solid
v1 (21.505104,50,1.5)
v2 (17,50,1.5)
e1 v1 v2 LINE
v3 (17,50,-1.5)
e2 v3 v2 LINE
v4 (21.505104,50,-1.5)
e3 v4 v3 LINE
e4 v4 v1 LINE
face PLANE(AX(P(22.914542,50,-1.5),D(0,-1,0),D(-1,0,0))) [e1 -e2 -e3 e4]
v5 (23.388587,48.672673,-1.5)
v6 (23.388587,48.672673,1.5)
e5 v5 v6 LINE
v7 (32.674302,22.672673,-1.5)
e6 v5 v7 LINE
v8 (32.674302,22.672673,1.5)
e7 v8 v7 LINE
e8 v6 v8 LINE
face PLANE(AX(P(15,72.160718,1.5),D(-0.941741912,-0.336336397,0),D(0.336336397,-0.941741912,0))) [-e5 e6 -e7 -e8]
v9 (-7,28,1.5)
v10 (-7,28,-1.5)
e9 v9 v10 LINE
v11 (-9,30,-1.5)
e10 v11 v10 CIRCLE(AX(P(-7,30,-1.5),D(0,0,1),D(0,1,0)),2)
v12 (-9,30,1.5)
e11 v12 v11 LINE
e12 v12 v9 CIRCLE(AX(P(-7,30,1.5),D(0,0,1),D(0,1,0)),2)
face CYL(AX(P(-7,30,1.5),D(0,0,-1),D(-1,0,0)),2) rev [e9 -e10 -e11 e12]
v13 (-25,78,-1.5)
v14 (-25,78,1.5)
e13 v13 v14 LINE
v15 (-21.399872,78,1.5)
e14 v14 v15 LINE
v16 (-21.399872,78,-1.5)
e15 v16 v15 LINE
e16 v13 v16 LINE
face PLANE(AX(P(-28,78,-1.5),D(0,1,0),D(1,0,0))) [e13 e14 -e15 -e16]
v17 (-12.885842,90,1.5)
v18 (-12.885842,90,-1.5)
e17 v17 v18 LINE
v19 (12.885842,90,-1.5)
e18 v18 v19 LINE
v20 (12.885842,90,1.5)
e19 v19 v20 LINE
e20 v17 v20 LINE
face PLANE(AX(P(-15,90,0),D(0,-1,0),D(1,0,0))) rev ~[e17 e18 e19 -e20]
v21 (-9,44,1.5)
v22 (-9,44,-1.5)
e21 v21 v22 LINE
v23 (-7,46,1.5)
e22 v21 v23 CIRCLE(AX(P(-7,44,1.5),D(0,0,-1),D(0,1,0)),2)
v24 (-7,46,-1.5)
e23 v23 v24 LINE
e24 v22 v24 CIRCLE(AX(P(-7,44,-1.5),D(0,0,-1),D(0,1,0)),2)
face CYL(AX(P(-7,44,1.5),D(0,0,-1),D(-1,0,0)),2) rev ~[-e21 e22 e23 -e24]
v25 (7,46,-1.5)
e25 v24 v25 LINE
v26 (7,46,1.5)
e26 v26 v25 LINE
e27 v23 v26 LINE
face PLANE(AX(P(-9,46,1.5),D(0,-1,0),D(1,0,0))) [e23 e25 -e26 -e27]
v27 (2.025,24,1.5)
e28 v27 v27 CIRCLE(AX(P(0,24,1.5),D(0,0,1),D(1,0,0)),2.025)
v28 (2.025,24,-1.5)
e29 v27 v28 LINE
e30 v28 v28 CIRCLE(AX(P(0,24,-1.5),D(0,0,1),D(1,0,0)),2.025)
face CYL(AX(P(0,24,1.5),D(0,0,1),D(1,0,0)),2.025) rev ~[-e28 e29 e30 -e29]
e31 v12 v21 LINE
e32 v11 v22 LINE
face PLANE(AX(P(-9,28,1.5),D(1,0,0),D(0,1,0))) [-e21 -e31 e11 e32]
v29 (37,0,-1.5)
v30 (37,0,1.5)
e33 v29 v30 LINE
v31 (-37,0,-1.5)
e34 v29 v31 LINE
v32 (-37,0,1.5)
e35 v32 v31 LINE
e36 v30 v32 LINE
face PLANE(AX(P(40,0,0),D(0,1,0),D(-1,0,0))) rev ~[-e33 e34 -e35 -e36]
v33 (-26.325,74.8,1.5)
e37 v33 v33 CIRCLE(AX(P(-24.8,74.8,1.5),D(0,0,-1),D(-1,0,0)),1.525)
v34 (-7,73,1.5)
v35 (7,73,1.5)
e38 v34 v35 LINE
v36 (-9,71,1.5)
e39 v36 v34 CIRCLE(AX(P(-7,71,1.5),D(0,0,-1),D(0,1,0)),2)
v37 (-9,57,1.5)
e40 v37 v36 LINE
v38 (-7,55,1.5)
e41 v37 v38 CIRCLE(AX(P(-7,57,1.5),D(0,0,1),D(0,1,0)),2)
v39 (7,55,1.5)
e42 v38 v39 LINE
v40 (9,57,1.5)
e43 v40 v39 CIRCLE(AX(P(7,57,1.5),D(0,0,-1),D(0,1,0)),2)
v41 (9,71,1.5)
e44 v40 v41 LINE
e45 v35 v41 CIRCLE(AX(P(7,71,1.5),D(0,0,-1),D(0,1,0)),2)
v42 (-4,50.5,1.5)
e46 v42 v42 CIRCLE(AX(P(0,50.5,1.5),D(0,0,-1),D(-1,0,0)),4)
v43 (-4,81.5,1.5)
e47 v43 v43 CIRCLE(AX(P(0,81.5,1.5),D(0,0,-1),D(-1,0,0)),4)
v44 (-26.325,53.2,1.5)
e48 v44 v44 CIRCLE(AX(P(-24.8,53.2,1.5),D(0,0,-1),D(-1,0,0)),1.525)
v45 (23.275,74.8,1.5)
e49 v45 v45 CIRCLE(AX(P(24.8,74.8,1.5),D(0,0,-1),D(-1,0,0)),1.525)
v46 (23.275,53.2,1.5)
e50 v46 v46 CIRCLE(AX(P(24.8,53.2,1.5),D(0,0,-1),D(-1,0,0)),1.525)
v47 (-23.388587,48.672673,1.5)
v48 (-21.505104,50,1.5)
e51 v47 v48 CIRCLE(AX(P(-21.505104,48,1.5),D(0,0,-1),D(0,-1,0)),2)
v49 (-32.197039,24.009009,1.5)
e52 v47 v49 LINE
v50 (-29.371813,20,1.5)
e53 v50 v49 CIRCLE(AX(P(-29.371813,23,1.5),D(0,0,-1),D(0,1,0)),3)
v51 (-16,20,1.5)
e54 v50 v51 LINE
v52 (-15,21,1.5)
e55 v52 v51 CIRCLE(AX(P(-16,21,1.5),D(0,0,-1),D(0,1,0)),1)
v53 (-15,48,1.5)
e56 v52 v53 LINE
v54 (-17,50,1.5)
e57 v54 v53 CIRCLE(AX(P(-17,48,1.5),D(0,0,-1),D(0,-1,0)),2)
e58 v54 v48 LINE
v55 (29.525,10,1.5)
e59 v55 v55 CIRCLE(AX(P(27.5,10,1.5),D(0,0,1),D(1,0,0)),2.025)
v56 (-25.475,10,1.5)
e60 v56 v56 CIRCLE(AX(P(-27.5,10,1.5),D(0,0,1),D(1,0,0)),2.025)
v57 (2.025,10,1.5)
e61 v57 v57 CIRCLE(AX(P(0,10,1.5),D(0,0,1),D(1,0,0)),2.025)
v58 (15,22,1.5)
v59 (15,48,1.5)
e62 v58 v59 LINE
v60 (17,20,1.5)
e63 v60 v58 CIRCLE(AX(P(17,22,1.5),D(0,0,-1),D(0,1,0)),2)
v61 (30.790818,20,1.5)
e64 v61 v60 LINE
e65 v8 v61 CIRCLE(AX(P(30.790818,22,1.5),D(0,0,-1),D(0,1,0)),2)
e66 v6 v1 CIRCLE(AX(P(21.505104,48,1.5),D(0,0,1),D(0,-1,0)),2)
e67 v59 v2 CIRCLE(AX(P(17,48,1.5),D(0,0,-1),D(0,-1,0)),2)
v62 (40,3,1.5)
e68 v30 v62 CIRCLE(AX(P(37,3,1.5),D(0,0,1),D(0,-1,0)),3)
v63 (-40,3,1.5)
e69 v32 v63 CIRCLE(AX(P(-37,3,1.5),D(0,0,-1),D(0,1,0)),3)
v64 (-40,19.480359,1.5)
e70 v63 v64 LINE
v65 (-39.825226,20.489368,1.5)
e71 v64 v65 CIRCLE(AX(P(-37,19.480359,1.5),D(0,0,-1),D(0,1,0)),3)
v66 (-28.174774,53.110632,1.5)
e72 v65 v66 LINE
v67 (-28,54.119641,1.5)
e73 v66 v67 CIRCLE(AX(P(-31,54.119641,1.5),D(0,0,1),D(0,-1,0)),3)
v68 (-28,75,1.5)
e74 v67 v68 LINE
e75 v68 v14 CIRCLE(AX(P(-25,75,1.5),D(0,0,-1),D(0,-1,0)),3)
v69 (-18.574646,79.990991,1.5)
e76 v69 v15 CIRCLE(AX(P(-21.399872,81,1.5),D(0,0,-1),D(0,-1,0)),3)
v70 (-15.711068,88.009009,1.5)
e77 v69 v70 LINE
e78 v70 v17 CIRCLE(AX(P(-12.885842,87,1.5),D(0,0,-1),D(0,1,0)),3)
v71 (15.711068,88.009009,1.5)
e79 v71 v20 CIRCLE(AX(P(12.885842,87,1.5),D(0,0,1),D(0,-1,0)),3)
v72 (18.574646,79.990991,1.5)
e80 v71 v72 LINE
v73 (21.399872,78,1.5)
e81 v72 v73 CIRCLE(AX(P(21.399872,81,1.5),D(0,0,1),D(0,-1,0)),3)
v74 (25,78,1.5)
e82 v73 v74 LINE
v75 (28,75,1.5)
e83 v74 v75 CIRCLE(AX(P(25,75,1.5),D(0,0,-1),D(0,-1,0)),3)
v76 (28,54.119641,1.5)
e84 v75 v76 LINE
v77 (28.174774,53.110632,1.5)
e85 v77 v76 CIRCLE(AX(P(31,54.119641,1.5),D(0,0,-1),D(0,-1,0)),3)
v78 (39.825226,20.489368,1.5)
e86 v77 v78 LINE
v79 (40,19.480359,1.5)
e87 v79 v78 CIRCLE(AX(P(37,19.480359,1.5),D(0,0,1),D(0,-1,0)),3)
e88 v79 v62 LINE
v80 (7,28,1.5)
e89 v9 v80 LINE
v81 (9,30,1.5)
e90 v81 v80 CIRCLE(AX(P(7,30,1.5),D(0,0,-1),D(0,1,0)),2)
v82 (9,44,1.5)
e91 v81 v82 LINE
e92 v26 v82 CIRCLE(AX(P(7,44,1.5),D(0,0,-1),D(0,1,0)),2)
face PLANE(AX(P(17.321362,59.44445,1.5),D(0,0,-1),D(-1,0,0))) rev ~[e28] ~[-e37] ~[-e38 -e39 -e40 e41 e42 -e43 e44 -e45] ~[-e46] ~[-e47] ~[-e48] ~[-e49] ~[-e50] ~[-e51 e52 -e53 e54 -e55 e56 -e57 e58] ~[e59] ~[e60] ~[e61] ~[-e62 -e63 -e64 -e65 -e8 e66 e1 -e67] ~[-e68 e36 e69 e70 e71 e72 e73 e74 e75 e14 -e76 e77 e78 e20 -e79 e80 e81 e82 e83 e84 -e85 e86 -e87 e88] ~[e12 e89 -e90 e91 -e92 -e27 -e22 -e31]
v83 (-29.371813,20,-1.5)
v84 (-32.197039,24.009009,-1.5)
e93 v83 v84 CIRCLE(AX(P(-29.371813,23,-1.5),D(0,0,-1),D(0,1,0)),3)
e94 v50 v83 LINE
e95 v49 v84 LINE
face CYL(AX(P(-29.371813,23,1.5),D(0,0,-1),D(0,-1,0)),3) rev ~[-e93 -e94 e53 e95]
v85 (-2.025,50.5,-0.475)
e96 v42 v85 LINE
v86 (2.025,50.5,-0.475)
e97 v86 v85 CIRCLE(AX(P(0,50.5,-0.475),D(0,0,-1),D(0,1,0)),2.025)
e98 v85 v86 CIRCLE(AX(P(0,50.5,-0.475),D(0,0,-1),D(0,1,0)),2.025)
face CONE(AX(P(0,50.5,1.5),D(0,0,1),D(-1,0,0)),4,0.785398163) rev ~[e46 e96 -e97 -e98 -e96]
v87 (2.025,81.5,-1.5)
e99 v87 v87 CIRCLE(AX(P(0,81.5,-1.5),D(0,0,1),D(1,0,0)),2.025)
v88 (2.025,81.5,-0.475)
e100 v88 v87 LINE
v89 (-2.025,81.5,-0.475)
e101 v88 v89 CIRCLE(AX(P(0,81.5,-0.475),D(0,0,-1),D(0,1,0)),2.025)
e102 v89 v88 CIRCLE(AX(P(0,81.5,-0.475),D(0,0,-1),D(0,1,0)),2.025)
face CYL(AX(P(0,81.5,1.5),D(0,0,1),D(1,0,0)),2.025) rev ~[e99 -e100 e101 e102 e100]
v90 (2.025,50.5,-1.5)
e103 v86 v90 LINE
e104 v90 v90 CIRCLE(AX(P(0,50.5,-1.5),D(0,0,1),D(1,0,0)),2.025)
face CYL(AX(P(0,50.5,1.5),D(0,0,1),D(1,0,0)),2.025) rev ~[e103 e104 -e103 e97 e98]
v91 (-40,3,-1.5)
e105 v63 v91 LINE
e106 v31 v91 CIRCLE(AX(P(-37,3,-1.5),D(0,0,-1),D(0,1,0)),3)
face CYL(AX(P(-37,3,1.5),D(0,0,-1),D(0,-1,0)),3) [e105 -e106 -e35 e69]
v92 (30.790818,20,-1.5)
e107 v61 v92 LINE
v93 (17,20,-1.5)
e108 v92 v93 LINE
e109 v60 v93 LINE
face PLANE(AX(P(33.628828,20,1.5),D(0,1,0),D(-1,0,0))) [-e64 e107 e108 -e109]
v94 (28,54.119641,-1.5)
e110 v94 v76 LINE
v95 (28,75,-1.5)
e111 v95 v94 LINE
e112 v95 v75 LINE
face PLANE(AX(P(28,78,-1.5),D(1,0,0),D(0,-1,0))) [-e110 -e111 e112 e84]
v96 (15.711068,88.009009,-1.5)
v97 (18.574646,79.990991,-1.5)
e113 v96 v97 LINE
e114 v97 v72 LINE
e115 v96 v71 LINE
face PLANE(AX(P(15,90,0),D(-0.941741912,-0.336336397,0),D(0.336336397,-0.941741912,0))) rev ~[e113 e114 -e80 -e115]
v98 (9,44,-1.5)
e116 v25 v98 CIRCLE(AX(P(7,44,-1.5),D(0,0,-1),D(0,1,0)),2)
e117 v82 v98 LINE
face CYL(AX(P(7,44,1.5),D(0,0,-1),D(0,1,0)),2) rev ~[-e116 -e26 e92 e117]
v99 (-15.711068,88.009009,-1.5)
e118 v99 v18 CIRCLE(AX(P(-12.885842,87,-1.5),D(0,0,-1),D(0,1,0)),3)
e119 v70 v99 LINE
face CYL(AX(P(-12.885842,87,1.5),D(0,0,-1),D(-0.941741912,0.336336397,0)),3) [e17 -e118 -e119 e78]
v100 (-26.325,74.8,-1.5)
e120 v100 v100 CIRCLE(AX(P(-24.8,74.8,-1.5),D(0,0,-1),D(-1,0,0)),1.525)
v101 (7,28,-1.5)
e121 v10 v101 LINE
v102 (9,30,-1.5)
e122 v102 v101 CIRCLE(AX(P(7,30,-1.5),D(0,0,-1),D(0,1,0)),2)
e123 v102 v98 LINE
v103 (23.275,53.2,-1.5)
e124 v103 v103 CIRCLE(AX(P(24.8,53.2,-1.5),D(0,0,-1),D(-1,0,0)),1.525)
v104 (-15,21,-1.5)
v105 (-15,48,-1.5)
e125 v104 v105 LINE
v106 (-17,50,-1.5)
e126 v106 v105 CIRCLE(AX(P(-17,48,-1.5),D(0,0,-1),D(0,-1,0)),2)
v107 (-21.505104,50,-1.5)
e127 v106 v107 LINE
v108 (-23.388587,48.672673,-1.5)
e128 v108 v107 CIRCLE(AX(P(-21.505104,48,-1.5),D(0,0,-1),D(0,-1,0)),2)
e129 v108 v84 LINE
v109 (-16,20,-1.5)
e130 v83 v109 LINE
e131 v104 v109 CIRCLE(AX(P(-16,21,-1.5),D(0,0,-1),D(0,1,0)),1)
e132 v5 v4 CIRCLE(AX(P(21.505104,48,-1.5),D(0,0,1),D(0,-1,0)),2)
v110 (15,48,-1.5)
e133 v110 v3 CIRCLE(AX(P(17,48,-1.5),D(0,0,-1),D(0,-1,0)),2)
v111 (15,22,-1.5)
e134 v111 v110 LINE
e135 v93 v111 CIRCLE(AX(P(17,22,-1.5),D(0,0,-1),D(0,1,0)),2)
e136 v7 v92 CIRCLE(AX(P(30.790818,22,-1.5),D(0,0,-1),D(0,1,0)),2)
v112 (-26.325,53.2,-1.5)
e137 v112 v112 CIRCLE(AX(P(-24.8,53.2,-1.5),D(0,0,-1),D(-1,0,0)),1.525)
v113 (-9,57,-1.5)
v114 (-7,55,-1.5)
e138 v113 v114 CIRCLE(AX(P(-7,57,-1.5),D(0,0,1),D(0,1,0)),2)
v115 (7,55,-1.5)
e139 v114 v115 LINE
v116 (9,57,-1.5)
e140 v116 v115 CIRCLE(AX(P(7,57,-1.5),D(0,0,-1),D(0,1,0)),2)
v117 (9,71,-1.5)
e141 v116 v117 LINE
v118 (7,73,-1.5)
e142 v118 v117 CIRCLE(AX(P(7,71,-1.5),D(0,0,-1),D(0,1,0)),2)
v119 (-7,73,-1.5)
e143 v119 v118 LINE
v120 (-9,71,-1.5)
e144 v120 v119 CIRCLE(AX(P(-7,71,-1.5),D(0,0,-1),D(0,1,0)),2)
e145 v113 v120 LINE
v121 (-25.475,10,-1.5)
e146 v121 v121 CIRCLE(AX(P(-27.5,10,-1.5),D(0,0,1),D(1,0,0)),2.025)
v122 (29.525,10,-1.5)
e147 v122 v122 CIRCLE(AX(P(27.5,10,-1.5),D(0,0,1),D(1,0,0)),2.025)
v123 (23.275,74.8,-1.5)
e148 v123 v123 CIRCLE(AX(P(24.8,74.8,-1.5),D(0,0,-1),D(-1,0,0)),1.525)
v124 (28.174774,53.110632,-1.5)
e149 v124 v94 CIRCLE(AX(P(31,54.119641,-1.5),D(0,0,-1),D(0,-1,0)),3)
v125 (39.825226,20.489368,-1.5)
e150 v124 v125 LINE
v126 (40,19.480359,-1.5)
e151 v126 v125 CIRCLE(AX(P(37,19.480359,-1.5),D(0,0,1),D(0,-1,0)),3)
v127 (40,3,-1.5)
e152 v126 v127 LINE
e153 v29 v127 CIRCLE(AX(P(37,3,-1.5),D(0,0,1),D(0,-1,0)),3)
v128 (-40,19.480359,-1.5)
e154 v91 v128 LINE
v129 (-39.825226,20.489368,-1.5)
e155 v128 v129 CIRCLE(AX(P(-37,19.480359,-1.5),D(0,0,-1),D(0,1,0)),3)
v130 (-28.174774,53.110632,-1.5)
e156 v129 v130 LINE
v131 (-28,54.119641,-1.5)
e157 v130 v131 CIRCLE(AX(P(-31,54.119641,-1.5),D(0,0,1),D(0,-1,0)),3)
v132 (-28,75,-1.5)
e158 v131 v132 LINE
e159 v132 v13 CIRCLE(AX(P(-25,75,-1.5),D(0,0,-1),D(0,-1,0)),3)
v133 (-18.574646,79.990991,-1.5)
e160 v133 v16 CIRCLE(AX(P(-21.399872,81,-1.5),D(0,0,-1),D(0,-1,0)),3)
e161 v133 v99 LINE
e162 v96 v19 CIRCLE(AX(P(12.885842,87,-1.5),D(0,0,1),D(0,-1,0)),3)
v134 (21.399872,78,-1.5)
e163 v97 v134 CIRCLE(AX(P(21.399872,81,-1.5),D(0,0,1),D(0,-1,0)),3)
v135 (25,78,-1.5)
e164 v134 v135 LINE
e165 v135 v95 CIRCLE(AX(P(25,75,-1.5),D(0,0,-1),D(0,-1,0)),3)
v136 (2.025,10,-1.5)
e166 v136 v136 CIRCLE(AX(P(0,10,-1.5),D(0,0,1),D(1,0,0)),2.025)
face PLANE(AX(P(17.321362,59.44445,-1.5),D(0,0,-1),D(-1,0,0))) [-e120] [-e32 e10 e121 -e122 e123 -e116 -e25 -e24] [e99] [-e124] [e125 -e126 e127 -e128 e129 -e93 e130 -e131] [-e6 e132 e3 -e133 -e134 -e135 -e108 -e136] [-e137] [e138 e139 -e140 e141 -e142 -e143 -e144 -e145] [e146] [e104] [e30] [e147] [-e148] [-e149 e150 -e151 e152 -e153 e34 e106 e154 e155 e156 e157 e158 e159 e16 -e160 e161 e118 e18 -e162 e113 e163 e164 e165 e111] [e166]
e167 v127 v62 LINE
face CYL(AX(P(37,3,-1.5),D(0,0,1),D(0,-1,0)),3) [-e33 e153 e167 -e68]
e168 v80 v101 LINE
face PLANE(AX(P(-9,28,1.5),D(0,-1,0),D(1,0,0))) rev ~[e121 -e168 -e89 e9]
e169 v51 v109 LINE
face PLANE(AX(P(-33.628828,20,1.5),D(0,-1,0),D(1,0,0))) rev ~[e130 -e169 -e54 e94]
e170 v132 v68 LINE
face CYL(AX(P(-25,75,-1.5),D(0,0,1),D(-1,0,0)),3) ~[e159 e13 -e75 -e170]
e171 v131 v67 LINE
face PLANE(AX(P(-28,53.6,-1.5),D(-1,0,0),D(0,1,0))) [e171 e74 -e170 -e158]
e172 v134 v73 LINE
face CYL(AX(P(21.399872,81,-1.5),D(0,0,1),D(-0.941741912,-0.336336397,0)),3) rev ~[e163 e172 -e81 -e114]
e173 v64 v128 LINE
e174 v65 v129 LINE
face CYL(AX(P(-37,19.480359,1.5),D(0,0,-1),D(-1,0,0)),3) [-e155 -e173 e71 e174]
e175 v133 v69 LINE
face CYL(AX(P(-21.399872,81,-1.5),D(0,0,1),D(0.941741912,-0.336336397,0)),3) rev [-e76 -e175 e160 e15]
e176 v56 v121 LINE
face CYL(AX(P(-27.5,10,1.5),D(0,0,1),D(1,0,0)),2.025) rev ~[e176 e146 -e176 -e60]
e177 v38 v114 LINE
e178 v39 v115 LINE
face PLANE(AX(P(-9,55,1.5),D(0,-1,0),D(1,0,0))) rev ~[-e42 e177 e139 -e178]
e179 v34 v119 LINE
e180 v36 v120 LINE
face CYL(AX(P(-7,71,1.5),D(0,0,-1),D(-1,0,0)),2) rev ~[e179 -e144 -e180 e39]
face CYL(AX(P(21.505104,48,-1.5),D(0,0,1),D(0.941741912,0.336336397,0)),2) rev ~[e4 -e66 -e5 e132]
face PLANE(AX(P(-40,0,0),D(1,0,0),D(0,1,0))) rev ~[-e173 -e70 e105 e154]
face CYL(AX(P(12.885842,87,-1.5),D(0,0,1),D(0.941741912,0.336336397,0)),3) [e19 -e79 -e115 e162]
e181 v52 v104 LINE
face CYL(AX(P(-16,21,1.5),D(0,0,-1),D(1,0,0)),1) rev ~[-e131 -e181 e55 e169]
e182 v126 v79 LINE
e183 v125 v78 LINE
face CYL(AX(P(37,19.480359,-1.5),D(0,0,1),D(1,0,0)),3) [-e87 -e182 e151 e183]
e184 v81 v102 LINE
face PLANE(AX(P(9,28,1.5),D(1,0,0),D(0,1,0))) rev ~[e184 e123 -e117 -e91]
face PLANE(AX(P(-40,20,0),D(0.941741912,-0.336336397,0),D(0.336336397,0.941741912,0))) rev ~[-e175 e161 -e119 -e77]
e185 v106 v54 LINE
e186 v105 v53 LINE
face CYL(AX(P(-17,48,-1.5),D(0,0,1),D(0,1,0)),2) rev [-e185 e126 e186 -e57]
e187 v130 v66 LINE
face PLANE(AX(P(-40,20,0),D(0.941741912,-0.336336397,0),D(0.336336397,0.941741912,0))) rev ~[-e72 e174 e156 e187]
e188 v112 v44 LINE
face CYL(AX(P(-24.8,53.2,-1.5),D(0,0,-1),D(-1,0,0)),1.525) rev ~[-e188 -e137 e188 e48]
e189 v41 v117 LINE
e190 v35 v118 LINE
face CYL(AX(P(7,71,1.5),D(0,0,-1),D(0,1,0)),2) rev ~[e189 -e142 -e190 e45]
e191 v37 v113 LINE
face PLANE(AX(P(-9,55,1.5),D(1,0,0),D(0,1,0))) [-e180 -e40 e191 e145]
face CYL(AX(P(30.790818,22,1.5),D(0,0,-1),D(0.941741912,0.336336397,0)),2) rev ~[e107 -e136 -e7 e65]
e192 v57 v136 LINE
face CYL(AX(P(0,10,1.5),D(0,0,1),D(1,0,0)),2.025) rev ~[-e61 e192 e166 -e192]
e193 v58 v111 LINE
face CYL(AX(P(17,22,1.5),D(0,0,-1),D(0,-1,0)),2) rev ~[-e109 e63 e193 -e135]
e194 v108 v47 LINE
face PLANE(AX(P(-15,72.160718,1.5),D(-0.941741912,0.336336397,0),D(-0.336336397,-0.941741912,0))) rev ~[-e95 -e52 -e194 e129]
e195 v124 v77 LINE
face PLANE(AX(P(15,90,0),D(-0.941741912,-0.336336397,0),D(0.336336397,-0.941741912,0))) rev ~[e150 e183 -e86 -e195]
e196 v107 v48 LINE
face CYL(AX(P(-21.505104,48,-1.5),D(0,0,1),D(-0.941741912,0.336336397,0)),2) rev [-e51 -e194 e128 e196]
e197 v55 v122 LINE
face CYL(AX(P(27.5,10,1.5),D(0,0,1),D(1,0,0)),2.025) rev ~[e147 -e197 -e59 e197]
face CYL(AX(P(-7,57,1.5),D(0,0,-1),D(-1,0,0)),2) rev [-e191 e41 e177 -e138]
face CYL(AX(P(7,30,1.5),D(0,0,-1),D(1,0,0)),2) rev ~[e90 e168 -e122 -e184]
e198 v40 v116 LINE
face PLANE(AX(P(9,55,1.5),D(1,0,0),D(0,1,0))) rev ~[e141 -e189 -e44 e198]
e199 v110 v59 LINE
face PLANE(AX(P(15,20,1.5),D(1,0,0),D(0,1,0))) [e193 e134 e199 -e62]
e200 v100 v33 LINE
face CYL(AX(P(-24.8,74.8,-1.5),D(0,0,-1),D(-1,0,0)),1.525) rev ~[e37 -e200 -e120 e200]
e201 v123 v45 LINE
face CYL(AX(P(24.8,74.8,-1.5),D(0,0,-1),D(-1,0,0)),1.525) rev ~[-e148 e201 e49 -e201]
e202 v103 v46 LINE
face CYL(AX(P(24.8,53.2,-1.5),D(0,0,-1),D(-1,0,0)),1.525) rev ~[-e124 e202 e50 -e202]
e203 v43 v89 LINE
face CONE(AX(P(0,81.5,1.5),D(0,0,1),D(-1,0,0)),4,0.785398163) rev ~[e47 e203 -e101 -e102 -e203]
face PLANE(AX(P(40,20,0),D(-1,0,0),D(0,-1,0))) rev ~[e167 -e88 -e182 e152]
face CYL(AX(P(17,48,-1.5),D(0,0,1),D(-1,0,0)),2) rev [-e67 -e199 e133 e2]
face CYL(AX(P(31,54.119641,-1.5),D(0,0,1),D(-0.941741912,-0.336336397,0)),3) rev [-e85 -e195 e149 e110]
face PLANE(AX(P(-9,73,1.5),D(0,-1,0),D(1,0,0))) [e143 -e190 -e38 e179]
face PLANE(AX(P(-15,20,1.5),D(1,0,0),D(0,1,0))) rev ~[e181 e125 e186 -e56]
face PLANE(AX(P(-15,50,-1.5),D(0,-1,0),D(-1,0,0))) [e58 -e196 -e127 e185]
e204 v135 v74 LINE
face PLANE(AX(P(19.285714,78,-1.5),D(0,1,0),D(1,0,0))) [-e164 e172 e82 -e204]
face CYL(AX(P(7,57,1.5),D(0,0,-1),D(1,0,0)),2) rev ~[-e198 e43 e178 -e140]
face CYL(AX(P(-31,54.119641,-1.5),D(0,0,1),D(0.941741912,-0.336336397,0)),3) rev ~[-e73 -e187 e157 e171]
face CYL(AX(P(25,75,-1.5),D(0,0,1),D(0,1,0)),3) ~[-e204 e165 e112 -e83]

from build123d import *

# Parameters (mm, degrees)
EXTRUDE_1_DEPTH           = 1.5
SKETCH_2_W                = 18
SKETCH_2_H                = 18
CUT_EXTRUDE_1_DEPTH       = 3
FILLET_1_R                = 1
FILLET_2_R                = 2
FILLET_3_R                = 3
SKETCH_3_R                = 2.025
CUT_EXTRUDE_2_DEPTH       = 1
CUT_EXTRUDE_2_DEPTH_BACK  = 4
SKETCH_4_R                = 2.025
CUT_EXTRUDE_3_DEPTH       = 1
CUT_EXTRUDE_3_DEPTH_BACK  = 4
SKETCH_5_R                = 2.025
CUT_EXTRUDE_4_DEPTH       = 1
CUT_EXTRUDE_4_DEPTH_BACK  = 4
FILLET_4_R                = 3
EXTRUDE_2_DEPTH           = 3
FILLET_5_R                = 3
SKETCH_7_R                = 1.525
CUT_EXTRUDE_5_DEPTH       = 3
HOLE_WIZARD_1_D           = 4.05
HOLE_WIZARD_1_DEPTH       = 100
HOLE_WIZARD_1_CSINK_D     = 8
HOLE_WIZARD_1_CSINK_ANGLE = 90
FILLET_6_R                = 2


with BuildPart() as part:
    # 草图1 → 凸台-拉伸1 (new body, symmetric)
    with BuildSketch(Plane.XY):
        Polygon((40, 0), (-40, 0), (-40, 20), (-15, 90), (15, 90), (40, 20), align=None)
    extrude(amount=EXTRUDE_1_DEPTH, both=True)

    # 草图2 → 切除-拉伸1 (cut)
    with BuildSketch(Plane.XY.offset(1.5)):
        Polygon((-15, 72.160717503), (-33.62882768, 20), (-15, 20), align=None)
        with Locations((0, 64)):
            Rectangle(SKETCH_2_W, SKETCH_2_H)
        with Locations((0, 37)):
            Rectangle(SKETCH_2_W, SKETCH_2_H)
        Polygon((15, 20), (15, 72.160717503), (33.62882768, 20), align=None)
    extrude(amount=-CUT_EXTRUDE_1_DEPTH, mode=Mode.SUBTRACT)

    # 圆角1
    fillet_1_edges = [part.edges().sort_by_distance(p)[0] for p in [
        (-15, 20, 0),
        (-15, 72.160717503, 0),
    ]]
    fillet(fillet_1_edges, radius=FILLET_1_R)

    # 圆角2
    fillet_2_edges = [part.edges().sort_by_distance(p)[0] for p in [
        (-9, 46, 0),
        (-9, 28, 0),
        (9, 28, 0),
        (9, 46, 0),
        (-9, 73, 0),
        (-9, 55, 0),
        (9, 55, 0),
        (9, 73, 0),
    ]]
    fillet(fillet_2_edges, radius=FILLET_2_R)

    # 圆角3
    fillet_3_edges = [part.edges().sort_by_distance(p)[0] for p in [
        (40, 0, 0),
        (-40, 0, 0),
        (-40, 20, 0),
        (-15, 90, 0),
        (15, 90, 0),
        (40, 20, 0),
    ]]
    fillet(fillet_3_edges, radius=FILLET_3_R)

    # 草图3 → 切除-拉伸2 (cut, two sides)
    with BuildSketch(Plane.XY.offset(1.5)) as cut_extrude_2_sk:
        with Locations((-27.5, 10)):
            Circle(SKETCH_3_R)
        with Locations((27.5, 10)):
            Circle(SKETCH_3_R)
    extrude(amount=CUT_EXTRUDE_2_DEPTH, mode=Mode.SUBTRACT)
    extrude(cut_extrude_2_sk.sketch, amount=-CUT_EXTRUDE_2_DEPTH_BACK, mode=Mode.SUBTRACT)

    # 草图4 → 切除-拉伸3 (cut, two sides)
    with BuildSketch(Plane.XY.offset(1.5)) as cut_extrude_3_sk:
        with Locations((0, 10)):
            Circle(SKETCH_4_R)
    extrude(amount=CUT_EXTRUDE_3_DEPTH, mode=Mode.SUBTRACT)
    extrude(cut_extrude_3_sk.sketch, amount=-CUT_EXTRUDE_3_DEPTH_BACK, mode=Mode.SUBTRACT)

    # 草图5 → 切除-拉伸4 (cut, two sides)
    with BuildSketch(Plane.XY.offset(1.5)) as cut_extrude_4_sk:
        with Locations((0, 24)):
            Circle(SKETCH_5_R)
        with Locations((0, 50.5)):
            Circle(SKETCH_5_R)
        with Locations((0, 81.5)):
            Circle(SKETCH_5_R)
    extrude(amount=CUT_EXTRUDE_4_DEPTH, mode=Mode.SUBTRACT)
    extrude(cut_extrude_4_sk.sketch, amount=-CUT_EXTRUDE_4_DEPTH_BACK, mode=Mode.SUBTRACT)

    # 圆角4
    fillet_4_edges = [part.edges().sort_by_distance(p)[0] for p in [
        (-33.62882768, 20, 0),
    ]]
    fillet(fillet_4_edges, radius=FILLET_4_R)

    # 草图6 → 凸台-拉伸2 (add)
    with BuildSketch(Plane(origin=(0, 0, -1.5), x_dir=(-1, 0, 0), z_dir=(0, 0, -1))):
        Polygon((-28, 78), (-28, 53.6), (-19.285714286, 78), align=None)
        Polygon((28, 78), (19.285714286, 78), (28, 53.6), align=None)
        Polygon((-15, 72.160717503), (-22.914541965, 50), (-15, 50), align=None)
        with BuildLine():
            Line((15, 66.387503754), (15, 50))
            Line((15, 50), (22.914541965, 50))
            Line((22.914541965, 50), (16.941741912, 66.723840151))
            ThreePointArc((16.941741912, 66.723840151), (15.82932767, 67.372831596), (15, 66.387503754))
        make_face()
    extrude(amount=-EXTRUDE_2_DEPTH)

    # 圆角5
    fillet_5_edges = [part.edges().sort_by_distance(p)[0] for p in [
        (28, 78, 0),
        (19.285714286, 78, 0),
        (28, 53.6, 0),
        (-28, 78, 0),
        (-19.285714286, 78, 0),
        (-28, 53.6, 0),
    ]]
    fillet(fillet_5_edges, radius=FILLET_5_R)

    # 草图7 → 切除-拉伸5 (cut)
    with BuildSketch(Plane(origin=(0, 0, -1.5), x_dir=(-1, 0, 0), z_dir=(0, 0, -1))):
        with Locations((24.8, 74.8)):
            Circle(SKETCH_7_R)
        with Locations((24.8, 53.2)):
            Circle(SKETCH_7_R)
        with Locations((-24.8, 53.2)):
            Circle(SKETCH_7_R)
        with Locations((-24.8, 74.8)):
            Circle(SKETCH_7_R)
    extrude(amount=-CUT_EXTRUDE_5_DEPTH, mode=Mode.SUBTRACT)

    # 孔1
    with Locations(Plane.XY.offset(1.5)):
        with Locations((0, 81.5), (0, 50.5)):
            CounterSinkHole(HOLE_WIZARD_1_D / 2, HOLE_WIZARD_1_CSINK_D / 2, depth=HOLE_WIZARD_1_DEPTH, counter_sink_angle=HOLE_WIZARD_1_CSINK_ANGLE)

    # 圆角6
    fillet_6_edges = [part.edges().sort_by_distance(p)[0] for p in [
        (15, 50, 0),
        (22.914541965, 50, 0),
        (-22.914541965, 50, 0),
        (-15, 50, 0),
        (15, 20, 0),
        (33.62882768, 20, 0),
    ]]
    fillet(fillet_6_edges, radius=FILLET_6_R)


solid = part.part
